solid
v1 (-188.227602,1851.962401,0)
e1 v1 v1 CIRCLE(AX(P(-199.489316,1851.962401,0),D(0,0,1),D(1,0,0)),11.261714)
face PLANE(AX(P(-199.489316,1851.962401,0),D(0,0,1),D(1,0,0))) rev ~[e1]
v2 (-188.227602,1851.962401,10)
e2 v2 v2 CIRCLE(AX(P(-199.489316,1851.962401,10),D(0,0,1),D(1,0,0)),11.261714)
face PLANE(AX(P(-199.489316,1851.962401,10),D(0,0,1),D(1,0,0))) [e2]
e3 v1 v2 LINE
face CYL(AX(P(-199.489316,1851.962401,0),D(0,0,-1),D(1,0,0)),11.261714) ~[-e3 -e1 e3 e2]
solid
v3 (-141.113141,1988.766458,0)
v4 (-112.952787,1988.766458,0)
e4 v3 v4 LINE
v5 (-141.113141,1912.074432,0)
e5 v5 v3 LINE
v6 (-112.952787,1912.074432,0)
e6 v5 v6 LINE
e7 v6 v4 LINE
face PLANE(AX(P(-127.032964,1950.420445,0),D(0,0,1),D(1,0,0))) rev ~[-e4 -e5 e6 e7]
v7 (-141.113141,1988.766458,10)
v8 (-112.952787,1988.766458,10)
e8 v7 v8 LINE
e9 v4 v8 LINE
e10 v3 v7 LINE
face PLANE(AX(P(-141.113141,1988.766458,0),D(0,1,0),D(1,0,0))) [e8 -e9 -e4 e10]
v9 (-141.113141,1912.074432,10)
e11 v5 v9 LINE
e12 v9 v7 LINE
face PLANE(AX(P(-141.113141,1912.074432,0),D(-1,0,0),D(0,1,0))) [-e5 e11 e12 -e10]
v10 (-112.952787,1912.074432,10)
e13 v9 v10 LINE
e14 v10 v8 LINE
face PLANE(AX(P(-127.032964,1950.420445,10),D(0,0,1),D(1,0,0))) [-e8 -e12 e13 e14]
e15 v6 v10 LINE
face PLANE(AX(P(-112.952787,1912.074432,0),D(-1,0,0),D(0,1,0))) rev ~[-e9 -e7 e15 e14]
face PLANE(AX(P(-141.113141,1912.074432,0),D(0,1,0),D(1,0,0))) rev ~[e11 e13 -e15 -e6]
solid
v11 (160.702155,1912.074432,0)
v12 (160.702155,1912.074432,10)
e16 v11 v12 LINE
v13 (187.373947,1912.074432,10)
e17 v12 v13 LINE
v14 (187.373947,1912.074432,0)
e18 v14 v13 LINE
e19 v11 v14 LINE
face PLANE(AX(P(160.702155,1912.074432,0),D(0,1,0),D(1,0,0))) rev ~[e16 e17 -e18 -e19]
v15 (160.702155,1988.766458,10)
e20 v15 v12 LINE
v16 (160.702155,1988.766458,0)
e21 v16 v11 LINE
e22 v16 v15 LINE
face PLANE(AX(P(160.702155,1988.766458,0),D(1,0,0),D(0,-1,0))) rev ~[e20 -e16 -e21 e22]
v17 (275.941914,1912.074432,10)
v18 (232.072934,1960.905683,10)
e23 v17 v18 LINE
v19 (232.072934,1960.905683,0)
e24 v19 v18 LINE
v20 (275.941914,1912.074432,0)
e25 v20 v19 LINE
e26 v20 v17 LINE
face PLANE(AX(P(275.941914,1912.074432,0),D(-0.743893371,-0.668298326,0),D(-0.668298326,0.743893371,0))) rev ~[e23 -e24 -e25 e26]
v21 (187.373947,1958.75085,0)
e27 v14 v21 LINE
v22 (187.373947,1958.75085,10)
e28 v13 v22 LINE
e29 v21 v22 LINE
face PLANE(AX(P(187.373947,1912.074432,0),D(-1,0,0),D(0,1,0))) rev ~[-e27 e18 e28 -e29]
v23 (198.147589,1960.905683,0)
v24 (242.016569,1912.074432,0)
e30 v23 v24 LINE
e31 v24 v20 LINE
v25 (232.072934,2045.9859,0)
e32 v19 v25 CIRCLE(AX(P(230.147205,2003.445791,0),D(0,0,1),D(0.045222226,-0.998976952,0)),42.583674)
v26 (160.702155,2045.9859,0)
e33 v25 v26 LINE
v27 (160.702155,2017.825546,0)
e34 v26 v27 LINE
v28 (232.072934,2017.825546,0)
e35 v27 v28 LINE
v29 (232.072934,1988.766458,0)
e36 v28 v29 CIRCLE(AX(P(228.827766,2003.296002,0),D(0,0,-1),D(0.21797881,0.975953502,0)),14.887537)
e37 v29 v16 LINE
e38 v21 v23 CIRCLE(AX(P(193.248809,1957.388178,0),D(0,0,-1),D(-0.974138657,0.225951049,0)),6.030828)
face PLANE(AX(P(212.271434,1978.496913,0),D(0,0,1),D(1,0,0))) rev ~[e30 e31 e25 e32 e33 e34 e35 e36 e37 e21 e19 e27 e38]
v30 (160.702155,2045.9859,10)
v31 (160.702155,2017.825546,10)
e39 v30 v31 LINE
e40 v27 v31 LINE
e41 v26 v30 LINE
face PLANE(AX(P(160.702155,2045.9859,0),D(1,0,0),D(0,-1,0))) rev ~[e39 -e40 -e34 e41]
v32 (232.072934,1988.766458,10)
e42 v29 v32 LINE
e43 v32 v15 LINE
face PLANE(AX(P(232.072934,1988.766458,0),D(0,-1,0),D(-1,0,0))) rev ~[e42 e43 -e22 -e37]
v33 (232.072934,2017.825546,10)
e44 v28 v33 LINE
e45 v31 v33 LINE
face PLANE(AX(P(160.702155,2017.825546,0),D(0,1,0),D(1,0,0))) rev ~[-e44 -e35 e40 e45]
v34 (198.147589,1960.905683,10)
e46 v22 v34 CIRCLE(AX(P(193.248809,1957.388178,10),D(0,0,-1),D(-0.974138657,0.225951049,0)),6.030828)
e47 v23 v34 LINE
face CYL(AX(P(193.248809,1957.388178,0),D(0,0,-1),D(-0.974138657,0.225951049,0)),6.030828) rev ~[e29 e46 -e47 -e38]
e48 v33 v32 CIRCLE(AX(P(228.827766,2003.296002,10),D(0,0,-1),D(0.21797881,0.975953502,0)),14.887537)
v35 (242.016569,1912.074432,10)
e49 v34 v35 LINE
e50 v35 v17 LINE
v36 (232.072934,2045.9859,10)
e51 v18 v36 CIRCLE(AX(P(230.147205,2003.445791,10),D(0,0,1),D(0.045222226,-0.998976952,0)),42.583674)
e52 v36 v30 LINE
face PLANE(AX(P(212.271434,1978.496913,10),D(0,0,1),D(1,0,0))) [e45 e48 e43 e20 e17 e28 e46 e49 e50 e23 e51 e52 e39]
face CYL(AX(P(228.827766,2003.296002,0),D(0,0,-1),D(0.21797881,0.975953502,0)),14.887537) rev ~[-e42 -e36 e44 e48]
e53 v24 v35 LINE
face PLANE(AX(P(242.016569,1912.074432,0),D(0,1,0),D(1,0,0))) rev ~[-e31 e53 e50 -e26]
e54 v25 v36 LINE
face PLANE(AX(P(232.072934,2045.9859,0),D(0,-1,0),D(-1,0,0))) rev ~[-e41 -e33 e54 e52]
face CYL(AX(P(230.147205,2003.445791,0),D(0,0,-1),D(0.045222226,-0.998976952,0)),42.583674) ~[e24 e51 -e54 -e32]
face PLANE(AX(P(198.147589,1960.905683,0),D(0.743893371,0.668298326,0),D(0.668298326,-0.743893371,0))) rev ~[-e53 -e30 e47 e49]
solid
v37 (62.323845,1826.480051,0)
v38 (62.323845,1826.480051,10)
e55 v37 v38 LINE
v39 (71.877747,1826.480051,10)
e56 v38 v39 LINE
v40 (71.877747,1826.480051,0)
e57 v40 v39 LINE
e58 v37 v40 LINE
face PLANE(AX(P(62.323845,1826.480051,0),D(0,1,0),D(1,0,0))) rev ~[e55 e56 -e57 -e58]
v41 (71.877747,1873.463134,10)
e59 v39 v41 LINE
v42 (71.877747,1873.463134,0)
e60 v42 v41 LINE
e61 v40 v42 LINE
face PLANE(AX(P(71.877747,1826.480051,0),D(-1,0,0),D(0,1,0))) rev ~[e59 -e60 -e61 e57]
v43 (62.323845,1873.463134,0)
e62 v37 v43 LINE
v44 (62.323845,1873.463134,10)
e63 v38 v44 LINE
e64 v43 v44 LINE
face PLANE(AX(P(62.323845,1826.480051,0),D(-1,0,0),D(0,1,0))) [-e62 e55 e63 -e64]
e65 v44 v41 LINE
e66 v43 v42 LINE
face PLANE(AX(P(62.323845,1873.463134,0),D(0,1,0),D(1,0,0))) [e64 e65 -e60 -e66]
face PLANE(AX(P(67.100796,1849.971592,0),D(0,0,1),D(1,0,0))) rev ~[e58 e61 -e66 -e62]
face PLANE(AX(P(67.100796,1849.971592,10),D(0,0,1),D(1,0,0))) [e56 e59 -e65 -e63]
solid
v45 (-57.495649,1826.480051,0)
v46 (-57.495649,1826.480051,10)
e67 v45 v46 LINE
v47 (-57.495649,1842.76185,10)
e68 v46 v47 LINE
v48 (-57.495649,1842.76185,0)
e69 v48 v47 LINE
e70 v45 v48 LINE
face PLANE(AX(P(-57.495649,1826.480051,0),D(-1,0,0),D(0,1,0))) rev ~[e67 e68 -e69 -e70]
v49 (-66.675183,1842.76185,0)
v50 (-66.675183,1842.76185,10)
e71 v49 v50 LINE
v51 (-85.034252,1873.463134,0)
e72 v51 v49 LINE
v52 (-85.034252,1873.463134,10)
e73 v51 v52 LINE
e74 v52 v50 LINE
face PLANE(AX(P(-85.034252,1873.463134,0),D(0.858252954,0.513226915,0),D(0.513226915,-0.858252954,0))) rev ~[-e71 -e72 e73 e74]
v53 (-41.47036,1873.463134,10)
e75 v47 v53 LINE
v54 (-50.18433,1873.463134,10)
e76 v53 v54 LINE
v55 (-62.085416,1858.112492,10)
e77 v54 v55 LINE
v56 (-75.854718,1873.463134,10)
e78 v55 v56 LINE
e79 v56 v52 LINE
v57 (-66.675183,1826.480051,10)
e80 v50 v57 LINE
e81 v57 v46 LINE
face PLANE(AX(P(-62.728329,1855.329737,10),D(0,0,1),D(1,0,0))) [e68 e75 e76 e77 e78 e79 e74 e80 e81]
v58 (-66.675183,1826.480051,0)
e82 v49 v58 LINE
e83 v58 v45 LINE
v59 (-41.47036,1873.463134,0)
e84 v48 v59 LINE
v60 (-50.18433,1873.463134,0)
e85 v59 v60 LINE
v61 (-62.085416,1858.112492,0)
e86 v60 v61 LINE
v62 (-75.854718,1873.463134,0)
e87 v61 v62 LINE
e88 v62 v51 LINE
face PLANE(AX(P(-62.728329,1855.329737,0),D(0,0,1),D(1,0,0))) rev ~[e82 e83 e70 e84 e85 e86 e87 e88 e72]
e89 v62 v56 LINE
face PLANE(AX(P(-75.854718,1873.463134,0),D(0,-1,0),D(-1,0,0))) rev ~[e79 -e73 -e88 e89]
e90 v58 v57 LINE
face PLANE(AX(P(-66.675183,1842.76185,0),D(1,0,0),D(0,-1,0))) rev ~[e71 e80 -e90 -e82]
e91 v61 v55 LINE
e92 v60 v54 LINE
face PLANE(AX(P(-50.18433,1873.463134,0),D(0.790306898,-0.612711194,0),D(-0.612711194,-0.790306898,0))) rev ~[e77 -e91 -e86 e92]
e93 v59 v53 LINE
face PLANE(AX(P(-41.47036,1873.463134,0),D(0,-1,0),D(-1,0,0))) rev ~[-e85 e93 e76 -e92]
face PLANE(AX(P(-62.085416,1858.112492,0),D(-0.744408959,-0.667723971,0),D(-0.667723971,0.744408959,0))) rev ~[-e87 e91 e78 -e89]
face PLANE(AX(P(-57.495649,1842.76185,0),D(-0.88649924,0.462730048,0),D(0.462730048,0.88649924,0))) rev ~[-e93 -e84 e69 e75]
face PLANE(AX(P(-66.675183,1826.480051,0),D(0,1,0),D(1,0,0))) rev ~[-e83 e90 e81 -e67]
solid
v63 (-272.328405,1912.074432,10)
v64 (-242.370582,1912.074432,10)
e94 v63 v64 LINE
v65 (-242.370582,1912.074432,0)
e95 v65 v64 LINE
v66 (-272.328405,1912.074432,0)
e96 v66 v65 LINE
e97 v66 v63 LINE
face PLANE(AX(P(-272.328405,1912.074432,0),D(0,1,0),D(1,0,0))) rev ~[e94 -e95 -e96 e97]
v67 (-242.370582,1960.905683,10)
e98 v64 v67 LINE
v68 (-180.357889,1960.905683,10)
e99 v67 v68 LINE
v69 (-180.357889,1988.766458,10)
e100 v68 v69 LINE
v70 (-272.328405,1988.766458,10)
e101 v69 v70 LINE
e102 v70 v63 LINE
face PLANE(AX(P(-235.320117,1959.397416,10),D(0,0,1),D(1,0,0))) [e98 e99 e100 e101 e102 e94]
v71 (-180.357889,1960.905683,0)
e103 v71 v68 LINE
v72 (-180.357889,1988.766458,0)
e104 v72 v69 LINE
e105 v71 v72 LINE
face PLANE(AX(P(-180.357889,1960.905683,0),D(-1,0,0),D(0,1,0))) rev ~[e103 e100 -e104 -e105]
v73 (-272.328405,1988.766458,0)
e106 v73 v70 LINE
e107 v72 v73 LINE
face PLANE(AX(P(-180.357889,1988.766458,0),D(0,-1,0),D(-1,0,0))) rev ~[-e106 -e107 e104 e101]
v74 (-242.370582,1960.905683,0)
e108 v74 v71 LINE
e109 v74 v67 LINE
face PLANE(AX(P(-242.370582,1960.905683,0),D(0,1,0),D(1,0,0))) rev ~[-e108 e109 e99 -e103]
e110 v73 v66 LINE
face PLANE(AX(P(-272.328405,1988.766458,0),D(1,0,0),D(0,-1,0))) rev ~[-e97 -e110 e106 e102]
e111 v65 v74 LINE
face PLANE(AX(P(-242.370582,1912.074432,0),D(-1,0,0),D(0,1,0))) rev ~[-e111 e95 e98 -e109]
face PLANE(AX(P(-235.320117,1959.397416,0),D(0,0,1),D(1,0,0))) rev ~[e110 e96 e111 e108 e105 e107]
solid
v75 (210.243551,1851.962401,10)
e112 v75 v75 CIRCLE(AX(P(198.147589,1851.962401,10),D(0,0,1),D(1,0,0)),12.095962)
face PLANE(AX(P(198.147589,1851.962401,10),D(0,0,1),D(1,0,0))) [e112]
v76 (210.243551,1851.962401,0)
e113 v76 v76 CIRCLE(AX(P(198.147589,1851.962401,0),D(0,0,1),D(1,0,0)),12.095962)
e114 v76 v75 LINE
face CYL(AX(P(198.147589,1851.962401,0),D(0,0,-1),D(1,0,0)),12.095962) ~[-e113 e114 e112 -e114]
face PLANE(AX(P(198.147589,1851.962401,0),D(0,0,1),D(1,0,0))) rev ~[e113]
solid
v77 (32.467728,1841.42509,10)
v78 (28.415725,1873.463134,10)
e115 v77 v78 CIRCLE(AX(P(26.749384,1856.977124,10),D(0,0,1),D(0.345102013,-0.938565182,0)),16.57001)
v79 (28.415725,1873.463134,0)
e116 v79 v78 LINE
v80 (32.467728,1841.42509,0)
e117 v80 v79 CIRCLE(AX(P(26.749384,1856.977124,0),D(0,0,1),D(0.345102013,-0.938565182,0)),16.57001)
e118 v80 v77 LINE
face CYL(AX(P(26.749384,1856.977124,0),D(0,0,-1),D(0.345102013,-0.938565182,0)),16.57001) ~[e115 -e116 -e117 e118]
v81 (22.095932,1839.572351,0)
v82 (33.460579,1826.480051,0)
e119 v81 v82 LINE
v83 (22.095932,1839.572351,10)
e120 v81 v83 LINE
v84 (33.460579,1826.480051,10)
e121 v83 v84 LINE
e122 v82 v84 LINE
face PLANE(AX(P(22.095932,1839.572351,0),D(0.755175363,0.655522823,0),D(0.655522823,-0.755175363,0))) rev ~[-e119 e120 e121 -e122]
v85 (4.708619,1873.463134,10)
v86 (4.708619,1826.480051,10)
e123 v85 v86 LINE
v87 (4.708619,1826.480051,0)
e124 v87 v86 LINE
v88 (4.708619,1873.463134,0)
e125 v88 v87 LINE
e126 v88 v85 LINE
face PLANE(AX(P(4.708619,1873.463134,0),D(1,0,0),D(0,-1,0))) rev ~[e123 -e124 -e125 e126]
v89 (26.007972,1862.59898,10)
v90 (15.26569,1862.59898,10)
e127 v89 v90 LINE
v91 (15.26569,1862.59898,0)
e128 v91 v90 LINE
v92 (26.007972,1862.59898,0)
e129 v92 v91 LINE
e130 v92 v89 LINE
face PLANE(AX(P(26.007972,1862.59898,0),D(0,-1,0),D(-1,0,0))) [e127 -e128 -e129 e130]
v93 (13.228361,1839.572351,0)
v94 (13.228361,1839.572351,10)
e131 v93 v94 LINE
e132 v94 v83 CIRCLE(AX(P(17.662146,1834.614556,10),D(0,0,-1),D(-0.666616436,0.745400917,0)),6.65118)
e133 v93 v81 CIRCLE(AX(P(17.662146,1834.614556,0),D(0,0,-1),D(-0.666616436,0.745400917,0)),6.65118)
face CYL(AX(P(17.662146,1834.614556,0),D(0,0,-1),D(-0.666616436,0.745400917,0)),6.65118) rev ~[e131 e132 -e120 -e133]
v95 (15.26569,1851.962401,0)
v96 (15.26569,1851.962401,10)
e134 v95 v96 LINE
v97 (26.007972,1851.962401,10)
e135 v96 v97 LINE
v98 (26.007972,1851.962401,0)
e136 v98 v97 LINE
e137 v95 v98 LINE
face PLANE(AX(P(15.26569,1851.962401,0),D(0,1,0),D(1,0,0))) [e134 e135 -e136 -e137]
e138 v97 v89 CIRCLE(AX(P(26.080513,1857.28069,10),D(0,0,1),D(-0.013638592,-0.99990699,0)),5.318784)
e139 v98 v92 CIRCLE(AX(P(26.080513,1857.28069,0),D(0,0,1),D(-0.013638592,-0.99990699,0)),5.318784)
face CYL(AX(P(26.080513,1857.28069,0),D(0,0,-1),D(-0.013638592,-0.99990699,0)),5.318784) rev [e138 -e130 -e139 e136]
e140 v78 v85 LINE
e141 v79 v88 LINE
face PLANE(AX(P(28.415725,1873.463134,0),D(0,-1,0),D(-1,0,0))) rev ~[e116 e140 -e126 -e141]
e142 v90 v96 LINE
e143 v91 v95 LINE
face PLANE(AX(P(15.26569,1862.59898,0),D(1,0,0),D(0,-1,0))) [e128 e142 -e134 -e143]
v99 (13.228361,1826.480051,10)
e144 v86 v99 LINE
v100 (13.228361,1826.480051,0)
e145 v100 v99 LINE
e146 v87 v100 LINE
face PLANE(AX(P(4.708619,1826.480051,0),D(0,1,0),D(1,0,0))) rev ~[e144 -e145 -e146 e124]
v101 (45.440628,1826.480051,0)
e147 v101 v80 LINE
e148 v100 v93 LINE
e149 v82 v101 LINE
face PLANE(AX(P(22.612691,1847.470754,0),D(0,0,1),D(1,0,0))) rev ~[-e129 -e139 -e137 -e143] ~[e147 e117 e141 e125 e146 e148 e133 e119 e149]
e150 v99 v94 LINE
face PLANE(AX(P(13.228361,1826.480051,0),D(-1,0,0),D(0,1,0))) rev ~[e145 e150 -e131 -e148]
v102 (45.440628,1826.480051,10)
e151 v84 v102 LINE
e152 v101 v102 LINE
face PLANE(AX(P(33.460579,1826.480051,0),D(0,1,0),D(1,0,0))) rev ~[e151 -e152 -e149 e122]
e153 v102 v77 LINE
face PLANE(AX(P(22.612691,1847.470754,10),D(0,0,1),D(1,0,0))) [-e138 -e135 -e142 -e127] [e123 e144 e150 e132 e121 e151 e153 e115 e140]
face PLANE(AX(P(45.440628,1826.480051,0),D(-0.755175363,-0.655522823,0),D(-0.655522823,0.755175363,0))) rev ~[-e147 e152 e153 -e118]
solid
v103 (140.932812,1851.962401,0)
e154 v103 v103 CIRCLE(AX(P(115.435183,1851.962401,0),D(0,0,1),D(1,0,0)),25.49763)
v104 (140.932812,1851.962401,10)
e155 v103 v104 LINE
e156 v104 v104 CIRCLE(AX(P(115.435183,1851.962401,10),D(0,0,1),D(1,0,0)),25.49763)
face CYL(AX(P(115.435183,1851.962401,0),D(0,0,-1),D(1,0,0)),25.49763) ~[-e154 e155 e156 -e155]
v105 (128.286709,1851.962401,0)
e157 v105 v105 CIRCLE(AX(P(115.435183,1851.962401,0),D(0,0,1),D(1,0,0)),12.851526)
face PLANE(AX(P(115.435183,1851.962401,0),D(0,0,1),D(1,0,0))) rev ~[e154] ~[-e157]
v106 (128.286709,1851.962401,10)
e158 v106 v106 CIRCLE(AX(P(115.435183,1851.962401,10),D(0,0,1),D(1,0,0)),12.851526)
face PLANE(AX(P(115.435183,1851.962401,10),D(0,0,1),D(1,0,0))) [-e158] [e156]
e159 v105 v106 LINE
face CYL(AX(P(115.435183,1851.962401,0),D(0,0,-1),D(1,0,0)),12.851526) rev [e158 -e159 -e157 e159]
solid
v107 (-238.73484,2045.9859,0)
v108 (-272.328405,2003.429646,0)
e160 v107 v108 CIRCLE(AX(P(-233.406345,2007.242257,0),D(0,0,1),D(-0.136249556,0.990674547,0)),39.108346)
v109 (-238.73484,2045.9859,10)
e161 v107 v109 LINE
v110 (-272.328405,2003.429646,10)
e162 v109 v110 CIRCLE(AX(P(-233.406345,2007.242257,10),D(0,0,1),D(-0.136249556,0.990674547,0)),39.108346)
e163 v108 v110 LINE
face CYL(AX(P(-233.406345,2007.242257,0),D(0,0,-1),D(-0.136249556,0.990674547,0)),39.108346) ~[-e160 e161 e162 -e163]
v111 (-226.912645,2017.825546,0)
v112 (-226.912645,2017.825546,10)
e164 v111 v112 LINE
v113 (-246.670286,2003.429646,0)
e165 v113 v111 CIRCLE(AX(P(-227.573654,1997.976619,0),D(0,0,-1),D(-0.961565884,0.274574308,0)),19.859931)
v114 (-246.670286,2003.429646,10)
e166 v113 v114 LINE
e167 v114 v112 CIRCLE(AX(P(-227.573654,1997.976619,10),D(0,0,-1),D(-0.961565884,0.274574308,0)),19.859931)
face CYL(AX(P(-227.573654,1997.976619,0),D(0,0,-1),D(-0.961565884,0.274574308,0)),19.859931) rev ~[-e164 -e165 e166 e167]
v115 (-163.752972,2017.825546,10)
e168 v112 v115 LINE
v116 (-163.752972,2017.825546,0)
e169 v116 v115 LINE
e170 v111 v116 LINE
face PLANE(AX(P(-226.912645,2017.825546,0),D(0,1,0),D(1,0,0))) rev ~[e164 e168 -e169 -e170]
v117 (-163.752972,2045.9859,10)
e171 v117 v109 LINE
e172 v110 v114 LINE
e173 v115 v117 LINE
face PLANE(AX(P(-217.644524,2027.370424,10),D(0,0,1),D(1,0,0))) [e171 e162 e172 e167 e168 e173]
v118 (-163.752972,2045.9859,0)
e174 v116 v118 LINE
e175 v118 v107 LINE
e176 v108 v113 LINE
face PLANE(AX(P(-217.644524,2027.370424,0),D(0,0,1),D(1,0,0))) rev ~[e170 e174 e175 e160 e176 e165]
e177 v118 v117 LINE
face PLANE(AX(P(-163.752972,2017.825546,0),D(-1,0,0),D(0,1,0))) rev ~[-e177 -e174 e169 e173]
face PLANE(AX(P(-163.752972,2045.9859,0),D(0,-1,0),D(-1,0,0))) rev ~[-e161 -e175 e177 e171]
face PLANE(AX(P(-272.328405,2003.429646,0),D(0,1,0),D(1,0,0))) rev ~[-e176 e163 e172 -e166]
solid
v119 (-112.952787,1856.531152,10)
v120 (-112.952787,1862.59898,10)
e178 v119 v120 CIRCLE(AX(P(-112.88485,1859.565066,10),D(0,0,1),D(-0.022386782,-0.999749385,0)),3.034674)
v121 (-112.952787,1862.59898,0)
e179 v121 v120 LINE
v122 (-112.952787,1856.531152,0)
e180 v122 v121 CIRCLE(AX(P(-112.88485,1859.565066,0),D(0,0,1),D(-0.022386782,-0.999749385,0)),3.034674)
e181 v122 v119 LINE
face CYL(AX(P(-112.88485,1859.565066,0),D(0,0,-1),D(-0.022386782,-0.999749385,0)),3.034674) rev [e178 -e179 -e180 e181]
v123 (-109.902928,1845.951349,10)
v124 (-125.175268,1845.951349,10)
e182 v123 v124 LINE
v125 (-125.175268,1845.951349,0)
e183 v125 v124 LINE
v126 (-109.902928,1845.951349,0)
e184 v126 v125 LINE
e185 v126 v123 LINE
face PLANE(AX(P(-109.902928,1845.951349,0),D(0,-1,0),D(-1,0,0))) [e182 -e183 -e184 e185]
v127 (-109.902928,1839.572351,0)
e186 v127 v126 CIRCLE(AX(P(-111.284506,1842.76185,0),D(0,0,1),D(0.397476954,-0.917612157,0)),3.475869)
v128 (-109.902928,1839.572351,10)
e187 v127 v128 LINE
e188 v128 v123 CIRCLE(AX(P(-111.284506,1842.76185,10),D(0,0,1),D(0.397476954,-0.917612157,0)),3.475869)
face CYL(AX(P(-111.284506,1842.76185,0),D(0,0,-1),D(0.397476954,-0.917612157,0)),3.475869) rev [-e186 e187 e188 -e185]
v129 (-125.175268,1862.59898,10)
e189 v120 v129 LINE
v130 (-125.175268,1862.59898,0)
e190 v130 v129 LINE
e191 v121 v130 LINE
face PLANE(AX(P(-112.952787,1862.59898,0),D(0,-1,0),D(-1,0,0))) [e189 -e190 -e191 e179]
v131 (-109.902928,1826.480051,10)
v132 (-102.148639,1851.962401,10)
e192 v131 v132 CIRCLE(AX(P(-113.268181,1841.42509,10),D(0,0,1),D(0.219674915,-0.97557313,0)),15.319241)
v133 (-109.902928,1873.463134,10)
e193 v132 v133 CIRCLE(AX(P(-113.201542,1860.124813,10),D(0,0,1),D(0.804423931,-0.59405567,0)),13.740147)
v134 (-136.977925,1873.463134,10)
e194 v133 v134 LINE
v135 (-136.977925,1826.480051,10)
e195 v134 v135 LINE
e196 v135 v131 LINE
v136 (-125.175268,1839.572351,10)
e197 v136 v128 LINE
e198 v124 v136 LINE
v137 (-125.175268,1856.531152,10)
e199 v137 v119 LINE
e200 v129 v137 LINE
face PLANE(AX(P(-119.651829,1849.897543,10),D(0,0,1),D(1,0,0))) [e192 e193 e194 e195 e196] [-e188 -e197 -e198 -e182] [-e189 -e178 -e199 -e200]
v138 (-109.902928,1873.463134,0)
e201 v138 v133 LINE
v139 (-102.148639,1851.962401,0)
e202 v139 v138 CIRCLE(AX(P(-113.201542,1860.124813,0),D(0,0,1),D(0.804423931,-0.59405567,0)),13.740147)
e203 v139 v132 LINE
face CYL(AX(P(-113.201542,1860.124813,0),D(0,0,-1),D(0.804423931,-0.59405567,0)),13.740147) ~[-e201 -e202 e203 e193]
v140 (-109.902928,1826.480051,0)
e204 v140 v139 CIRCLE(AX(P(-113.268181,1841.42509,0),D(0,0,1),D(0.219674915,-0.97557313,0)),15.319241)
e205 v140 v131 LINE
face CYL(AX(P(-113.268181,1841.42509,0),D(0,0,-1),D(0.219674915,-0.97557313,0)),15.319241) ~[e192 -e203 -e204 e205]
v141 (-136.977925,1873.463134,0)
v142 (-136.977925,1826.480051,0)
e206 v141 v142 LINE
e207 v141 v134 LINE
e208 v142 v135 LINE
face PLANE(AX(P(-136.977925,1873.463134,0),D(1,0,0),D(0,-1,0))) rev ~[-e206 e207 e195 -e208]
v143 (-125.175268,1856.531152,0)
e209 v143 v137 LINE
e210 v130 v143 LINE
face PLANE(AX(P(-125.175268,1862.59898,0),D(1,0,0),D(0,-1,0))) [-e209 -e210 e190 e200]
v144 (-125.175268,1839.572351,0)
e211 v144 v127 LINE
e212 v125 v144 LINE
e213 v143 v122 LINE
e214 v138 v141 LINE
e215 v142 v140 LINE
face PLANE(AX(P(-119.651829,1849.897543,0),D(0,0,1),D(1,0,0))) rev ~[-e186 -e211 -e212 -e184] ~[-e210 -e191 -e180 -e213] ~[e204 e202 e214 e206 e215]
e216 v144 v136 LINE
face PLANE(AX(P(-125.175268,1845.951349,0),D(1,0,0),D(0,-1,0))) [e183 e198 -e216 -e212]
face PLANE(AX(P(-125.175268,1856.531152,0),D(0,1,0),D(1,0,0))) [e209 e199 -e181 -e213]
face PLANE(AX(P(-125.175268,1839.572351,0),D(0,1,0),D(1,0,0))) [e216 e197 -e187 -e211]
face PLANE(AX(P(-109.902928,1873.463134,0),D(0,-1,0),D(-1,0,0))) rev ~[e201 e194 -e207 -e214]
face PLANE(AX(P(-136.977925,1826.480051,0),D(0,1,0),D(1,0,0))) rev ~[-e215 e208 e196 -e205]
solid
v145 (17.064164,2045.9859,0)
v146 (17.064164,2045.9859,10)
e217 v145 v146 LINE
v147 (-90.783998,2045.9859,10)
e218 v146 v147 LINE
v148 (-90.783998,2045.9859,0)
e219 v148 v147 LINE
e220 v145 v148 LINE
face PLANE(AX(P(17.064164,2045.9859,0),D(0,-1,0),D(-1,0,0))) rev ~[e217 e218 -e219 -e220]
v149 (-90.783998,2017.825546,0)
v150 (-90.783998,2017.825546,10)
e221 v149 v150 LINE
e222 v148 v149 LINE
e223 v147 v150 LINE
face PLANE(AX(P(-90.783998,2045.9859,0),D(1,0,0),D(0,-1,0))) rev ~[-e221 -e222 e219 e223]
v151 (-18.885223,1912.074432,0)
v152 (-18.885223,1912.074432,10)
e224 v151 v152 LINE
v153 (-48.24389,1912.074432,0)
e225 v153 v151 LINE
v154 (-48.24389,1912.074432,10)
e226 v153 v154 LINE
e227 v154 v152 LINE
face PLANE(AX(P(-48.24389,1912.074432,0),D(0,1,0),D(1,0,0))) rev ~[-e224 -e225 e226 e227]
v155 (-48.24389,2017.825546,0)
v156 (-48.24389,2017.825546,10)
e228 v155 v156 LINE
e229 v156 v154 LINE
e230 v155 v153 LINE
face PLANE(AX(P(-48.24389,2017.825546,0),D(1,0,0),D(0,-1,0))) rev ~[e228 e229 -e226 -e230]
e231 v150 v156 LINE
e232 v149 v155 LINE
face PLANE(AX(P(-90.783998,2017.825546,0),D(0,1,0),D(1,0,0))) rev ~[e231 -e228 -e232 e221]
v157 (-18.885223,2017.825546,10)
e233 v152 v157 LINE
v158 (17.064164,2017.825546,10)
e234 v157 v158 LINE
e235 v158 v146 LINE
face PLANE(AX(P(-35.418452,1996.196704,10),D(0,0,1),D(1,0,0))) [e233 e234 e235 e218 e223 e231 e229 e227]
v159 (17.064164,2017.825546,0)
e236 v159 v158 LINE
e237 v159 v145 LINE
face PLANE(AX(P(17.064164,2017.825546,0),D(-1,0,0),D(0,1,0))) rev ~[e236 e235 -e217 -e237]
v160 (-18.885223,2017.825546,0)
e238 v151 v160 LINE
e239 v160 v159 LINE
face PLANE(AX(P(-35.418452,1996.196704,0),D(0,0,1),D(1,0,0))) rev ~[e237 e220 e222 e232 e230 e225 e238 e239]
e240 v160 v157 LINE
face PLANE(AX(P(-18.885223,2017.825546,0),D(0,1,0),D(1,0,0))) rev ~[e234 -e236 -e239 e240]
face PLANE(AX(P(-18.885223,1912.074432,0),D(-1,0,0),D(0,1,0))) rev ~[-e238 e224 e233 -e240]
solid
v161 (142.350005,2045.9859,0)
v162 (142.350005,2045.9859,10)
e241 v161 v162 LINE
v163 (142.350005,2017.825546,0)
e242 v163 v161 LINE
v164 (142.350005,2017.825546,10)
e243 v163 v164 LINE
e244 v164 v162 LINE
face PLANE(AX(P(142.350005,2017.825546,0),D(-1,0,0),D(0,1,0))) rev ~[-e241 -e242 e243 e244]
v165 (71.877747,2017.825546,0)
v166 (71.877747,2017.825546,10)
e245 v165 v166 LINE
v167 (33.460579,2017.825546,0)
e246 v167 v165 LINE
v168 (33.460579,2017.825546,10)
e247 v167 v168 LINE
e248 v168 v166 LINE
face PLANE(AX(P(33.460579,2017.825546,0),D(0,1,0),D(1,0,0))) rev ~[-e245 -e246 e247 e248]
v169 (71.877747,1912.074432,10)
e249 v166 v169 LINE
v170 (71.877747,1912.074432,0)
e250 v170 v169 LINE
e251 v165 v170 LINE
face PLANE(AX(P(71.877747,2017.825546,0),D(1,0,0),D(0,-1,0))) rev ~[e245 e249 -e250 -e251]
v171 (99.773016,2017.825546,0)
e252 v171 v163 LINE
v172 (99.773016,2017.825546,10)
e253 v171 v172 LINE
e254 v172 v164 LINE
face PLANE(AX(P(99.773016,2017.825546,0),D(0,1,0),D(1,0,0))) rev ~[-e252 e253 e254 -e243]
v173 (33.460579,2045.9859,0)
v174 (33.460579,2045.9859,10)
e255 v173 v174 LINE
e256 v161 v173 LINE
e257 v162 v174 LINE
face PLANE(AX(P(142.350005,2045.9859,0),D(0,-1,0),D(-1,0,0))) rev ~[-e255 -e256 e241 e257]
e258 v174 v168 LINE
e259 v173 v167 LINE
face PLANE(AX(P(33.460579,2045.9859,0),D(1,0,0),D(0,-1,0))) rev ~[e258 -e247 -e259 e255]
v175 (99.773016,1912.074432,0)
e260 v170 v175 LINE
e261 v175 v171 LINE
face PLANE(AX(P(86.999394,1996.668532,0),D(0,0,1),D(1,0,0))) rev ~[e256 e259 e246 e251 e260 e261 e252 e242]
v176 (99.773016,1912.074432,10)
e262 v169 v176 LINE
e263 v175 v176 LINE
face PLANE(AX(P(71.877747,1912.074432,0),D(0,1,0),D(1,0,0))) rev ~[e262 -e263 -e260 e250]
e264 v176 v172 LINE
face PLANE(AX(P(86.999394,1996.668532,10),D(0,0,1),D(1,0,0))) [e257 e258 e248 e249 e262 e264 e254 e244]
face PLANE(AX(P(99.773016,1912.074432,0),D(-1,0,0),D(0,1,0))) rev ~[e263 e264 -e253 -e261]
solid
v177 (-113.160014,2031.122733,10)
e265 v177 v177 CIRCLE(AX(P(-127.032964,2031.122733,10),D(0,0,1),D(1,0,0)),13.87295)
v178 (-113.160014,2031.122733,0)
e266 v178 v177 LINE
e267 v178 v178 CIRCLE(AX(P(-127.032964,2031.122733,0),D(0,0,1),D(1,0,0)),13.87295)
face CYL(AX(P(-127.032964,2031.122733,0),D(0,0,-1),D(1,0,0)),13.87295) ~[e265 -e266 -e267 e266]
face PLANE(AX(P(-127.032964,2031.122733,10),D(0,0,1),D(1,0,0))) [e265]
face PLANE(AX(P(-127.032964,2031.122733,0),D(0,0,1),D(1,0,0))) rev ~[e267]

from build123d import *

# Parameters (mm, degrees)
SKETCH1_R              = 13.872950016
BOSS_EXTRUDE1_DEPTH    = 10
SKETCH1_R_2            = 11.261714239
BOSS_EXTRUDE1_2_DEPTH  = 10
SKETCH1_R_3            = 12.095962235
BOSS_EXTRUDE1_3_DEPTH  = 10
SKETCH1_R_4            = 25.497629654
SKETCH1_R_5            = 12.851526445
BOSS_EXTRUDE1_4_DEPTH  = 10
BOSS_EXTRUDE1_5_DEPTH  = 10
SKETCH1_W              = 28.160353525
SKETCH1_H              = 76.692026621
BOSS_EXTRUDE1_6_DEPTH  = 10
BOSS_EXTRUDE1_7_DEPTH  = 10
BOSS_EXTRUDE1_8_DEPTH  = 10
BOSS_EXTRUDE1_9_DEPTH  = 10
BOSS_EXTRUDE1_10_DEPTH = 10
BOSS_EXTRUDE1_11_DEPTH = 10
BOSS_EXTRUDE1_12_DEPTH = 10
BOSS_EXTRUDE1_13_DEPTH = 10
SKETCH1_W_2            = 9.553902
SKETCH1_H_2            = 46.983083585
BOSS_EXTRUDE1_14_DEPTH = 10


with BuildPart() as part:
    # Sketch1 → Boss-Extrude1 (new body)
    with BuildSketch(Plane.XY):
        with Locations((-127.032963832, 2031.122733015)):
            Circle(SKETCH1_R)
    extrude(amount=BOSS_EXTRUDE1_DEPTH)


with BuildPart() as body_2:
    # Sketch1 → Boss-Extrude1 2 (new body)
    with BuildSketch(Plane.XY):
        with Locations((-199.489316183, 1851.962400951)):
            Circle(SKETCH1_R_2)
    extrude(amount=BOSS_EXTRUDE1_2_DEPTH)


with BuildPart() as body_3:
    # Sketch1 → Boss-Extrude1 3 (new body)
    with BuildSketch(Plane.XY):
        with Locations((198.147588845, 1851.962400951)):
            Circle(SKETCH1_R_3)
    extrude(amount=BOSS_EXTRUDE1_3_DEPTH)


with BuildPart() as body_4:
    # Sketch1 → Boss-Extrude1 4 (new body)
    with BuildSketch(Plane.XY):
        with Locations((115.435182788, 1851.962400951)):
            Circle(SKETCH1_R_4)
        with Locations((115.435182788, 1851.962400951)):
            Circle(SKETCH1_R_5, mode=Mode.SUBTRACT)
    extrude(amount=BOSS_EXTRUDE1_4_DEPTH)


with BuildPart() as body_5:
    # Sketch1 → Boss-Extrude1 5 (new body)
    with BuildSketch(Plane.XY):
        Polygon((-272.328404892, 1988.766458193), (-272.328404892, 1912.074431572), (-242.370581993, 1912.074431572), (-242.370581993, 1960.905682897), (-180.357888592, 1960.905682897), (-180.357888592, 1988.766458193), align=None)
    extrude(amount=BOSS_EXTRUDE1_5_DEPTH)


with BuildPart() as body_6:
    # Sketch1 → Boss-Extrude1 6 (new body)
    with BuildSketch(Plane.XY):
        with Locations((-127.032963833, 1950.420444883)):
            Rectangle(SKETCH1_W, SKETCH1_H)
    extrude(amount=BOSS_EXTRUDE1_6_DEPTH)


with BuildPart() as body_7:
    # Sketch1 → Boss-Extrude1 7 (new body)
    with BuildSketch(Plane.XY):
        Polygon((-48.243889609, 2017.825546405), (-48.243889609, 1912.074431572), (-18.885223168, 1912.074431572), (-18.885223168, 2017.825546405), (17.064164311, 2017.825546405), (17.064164311, 2045.98589993), (-90.783998125, 2045.98589993), (-90.783998125, 2017.825546405), align=None)
    extrude(amount=BOSS_EXTRUDE1_7_DEPTH)


with BuildPart() as body_8:
    # Sketch1 → Boss-Extrude1 8 (new body)
    with BuildSketch(Plane.XY):
        Polygon((71.877747221, 2017.825546405), (71.877747221, 1912.074431572), (99.773015751, 1912.074431572), (99.773015751, 2017.825546405), (142.350004559, 2017.825546405), (142.350004559, 2045.98589993), (33.460579157, 2045.98589993), (33.460579157, 2017.825546405), align=None)
    extrude(amount=BOSS_EXTRUDE1_8_DEPTH)


with BuildPart() as body_9:
    # Sketch1 → Boss-Extrude1 9 (new body)
    with BuildSketch(Plane.XY):
        with BuildLine():
            Line((160.702154908, 1988.766458193), (160.702154908, 1912.074431572))
            Line((160.702154908, 1912.074431572), (187.373946748, 1912.074431572))
            Line((187.373946748, 1912.074431572), (187.373946748, 1958.750849803))
            ThreePointArc((187.373946748, 1958.750849803), (192.06601131, 1963.30188004), (198.147588845, 1960.905682897))
            Line((198.147588845, 1960.905682897), (242.016569038, 1912.074431572))
            Line((242.016569038, 1912.074431572), (275.941913721, 1912.074431572))
            Line((275.941913721, 1912.074431572), (232.072933528, 1960.905682897))
            ThreePointArc((232.072933528, 1960.905682897), (272.730878669, 2003.445791413), (232.072933528, 2045.98589993))
            Line((232.072933528, 2045.98589993), (160.702154908, 2045.98589993))
            Line((160.702154908, 2045.98589993), (160.702154908, 2017.825546405))
            Line((160.702154908, 2017.825546405), (232.072933528, 2017.825546405))
            ThreePointArc((232.072933528, 2017.825546405), (243.71530311, 2003.296002299), (232.072933528, 1988.766458193))
            Line((232.072933528, 1988.766458193), (160.702154908, 1988.766458193))
        make_face()
    extrude(amount=BOSS_EXTRUDE1_9_DEPTH)


with BuildPart() as body_10:
    # Sketch1 → Boss-Extrude1 10 (new body)
    with BuildSketch(Plane.XY):
        with BuildLine():
            Line((-272.328404892, 2003.429645733), (-246.670286028, 2003.429645733))
            ThreePointArc((-246.670286028, 2003.429645733), (-239.268889638, 2014.02773476), (-226.91264481, 2017.825546405))
            Line((-226.91264481, 2017.825546405), (-163.75297206, 2017.825546405))
            Line((-163.75297206, 2017.825546405), (-163.75297206, 2045.98589993))
            Line((-163.75297206, 2045.98589993), (-226.912644809, 2045.98589993))
            Line((-226.912644809, 2045.98589993), (-238.734839965, 2045.98589993))
            ThreePointArc((-238.734839965, 2045.98589993), (-264.103032071, 2031.473974692), (-272.328404892, 2003.429645733))
        make_face()
    extrude(amount=BOSS_EXTRUDE1_10_DEPTH)


with BuildPart() as body_11:
    # Sketch1 → Boss-Extrude1 11 (new body)
    with BuildSketch(Plane.XY):
        with BuildLine():
            Line((-136.977925312, 1873.463134117), (-136.977925312, 1826.480050532))
            Line((-136.977925312, 1826.480050532), (-109.902927992, 1826.480050532))
            ThreePointArc((-109.902927992, 1826.480050532), (-98.612469798, 1836.965351507), (-102.148638735, 1851.962400951))
            ThreePointArc((-102.148638735, 1851.962400951), (-100.276299584, 1864.786332187), (-109.902927992, 1873.463134117))
            Line((-109.902927992, 1873.463134117), (-136.977925312, 1873.463134117))
        make_face()
        with BuildLine():
            Line((-125.175267733, 1862.598979878), (-125.175267733, 1856.531151967))
            Line((-125.175267733, 1856.531151967), (-112.95278707, 1856.531151967))
            ThreePointArc((-112.95278707, 1856.531151967), (-109.850175983, 1859.565065922), (-112.95278707, 1862.598979878))
            Line((-112.95278707, 1862.598979878), (-125.175267733, 1862.598979878))
        make_face(mode=Mode.SUBTRACT)
        with BuildLine():
            Line((-125.175267733, 1845.951349454), (-125.175267733, 1839.57235088))
            Line((-125.175267733, 1839.57235088), (-112.95278707, 1839.57235088))
            Line((-112.95278707, 1839.57235088), (-109.902927992, 1839.57235088))
            ThreePointArc((-109.902927992, 1839.57235088), (-107.808637054, 1842.761850167), (-109.902927992, 1845.951349454))
            Line((-109.902927992, 1845.951349454), (-112.95278707, 1845.951349454))
            Line((-112.95278707, 1845.951349454), (-125.175267733, 1845.951349454))
        make_face(mode=Mode.SUBTRACT)
    extrude(amount=BOSS_EXTRUDE1_11_DEPTH)


with BuildPart() as body_12:
    # Sketch1 → Boss-Extrude1 12 (new body)
    with BuildSketch(Plane.XY):
        Polygon((-85.034252317, 1873.463134117), (-66.675183251, 1842.761850167), (-66.675183251, 1826.480050532), (-57.495648718, 1826.480050532), (-57.495648718, 1842.761850167), (-41.470359618, 1873.463134117), (-50.184330229, 1873.463134117), (-62.085415985, 1858.112492142), (-75.854717784, 1873.463134117), align=None)
    extrude(amount=BOSS_EXTRUDE1_12_DEPTH)


with BuildPart() as body_13:
    # Sketch1 → Boss-Extrude1 13 (new body)
    with BuildSketch(Plane.XY):
        with BuildLine():
            Line((4.708619391, 1873.463134117), (4.708619391, 1826.480050532))
            Line((4.708619391, 1826.480050532), (13.228360596, 1826.480050532))
            Line((13.228360596, 1826.480050532), (13.228360596, 1839.57235088))
            ThreePointArc((13.228360596, 1839.57235088), (17.6621462, 1841.265735094), (22.095931804, 1839.57235088))
            Line((22.095931804, 1839.57235088), (33.460579157, 1826.480050532))
            Line((33.460579157, 1826.480050532), (45.440627673, 1826.480050532))
            Line((45.440627673, 1826.480050532), (32.467727531, 1841.425090159))
            ThreePointArc((32.467727531, 1841.425090159), (43.188436735, 1859.056248569), (28.415725354, 1873.463134117))
            Line((28.415725354, 1873.463134117), (4.708619391, 1873.463134117))
        make_face()
        with BuildLine():
            Line((15.265690015, 1862.598979878), (15.265690015, 1851.962400951))
            Line((15.265690015, 1851.962400951), (26.007972405, 1851.962400951))
            ThreePointArc((26.007972405, 1851.962400951), (31.399297294, 1857.280690415), (26.007972405, 1862.598979878))
            Line((26.007972405, 1862.598979878), (15.265690015, 1862.598979878))
        make_face(mode=Mode.SUBTRACT)
    extrude(amount=BOSS_EXTRUDE1_13_DEPTH)


with BuildPart() as body_14:
    # Sketch1 → Boss-Extrude1 14 (new body)
    with BuildSketch(Plane.XY):
        with Locations((67.100796221, 1849.971592325)):
            Rectangle(SKETCH1_W_2, SKETCH1_H_2)
    extrude(amount=BOSS_EXTRUDE1_14_DEPTH)


solid = Compound([part.part, body_2.part, body_3.part, body_4.part, body_5.part, body_6.part, body_7.part, body_8.part, body_9.part, body_10.part, body_11.part, body_12.part, body_13.part, body_14.part])
